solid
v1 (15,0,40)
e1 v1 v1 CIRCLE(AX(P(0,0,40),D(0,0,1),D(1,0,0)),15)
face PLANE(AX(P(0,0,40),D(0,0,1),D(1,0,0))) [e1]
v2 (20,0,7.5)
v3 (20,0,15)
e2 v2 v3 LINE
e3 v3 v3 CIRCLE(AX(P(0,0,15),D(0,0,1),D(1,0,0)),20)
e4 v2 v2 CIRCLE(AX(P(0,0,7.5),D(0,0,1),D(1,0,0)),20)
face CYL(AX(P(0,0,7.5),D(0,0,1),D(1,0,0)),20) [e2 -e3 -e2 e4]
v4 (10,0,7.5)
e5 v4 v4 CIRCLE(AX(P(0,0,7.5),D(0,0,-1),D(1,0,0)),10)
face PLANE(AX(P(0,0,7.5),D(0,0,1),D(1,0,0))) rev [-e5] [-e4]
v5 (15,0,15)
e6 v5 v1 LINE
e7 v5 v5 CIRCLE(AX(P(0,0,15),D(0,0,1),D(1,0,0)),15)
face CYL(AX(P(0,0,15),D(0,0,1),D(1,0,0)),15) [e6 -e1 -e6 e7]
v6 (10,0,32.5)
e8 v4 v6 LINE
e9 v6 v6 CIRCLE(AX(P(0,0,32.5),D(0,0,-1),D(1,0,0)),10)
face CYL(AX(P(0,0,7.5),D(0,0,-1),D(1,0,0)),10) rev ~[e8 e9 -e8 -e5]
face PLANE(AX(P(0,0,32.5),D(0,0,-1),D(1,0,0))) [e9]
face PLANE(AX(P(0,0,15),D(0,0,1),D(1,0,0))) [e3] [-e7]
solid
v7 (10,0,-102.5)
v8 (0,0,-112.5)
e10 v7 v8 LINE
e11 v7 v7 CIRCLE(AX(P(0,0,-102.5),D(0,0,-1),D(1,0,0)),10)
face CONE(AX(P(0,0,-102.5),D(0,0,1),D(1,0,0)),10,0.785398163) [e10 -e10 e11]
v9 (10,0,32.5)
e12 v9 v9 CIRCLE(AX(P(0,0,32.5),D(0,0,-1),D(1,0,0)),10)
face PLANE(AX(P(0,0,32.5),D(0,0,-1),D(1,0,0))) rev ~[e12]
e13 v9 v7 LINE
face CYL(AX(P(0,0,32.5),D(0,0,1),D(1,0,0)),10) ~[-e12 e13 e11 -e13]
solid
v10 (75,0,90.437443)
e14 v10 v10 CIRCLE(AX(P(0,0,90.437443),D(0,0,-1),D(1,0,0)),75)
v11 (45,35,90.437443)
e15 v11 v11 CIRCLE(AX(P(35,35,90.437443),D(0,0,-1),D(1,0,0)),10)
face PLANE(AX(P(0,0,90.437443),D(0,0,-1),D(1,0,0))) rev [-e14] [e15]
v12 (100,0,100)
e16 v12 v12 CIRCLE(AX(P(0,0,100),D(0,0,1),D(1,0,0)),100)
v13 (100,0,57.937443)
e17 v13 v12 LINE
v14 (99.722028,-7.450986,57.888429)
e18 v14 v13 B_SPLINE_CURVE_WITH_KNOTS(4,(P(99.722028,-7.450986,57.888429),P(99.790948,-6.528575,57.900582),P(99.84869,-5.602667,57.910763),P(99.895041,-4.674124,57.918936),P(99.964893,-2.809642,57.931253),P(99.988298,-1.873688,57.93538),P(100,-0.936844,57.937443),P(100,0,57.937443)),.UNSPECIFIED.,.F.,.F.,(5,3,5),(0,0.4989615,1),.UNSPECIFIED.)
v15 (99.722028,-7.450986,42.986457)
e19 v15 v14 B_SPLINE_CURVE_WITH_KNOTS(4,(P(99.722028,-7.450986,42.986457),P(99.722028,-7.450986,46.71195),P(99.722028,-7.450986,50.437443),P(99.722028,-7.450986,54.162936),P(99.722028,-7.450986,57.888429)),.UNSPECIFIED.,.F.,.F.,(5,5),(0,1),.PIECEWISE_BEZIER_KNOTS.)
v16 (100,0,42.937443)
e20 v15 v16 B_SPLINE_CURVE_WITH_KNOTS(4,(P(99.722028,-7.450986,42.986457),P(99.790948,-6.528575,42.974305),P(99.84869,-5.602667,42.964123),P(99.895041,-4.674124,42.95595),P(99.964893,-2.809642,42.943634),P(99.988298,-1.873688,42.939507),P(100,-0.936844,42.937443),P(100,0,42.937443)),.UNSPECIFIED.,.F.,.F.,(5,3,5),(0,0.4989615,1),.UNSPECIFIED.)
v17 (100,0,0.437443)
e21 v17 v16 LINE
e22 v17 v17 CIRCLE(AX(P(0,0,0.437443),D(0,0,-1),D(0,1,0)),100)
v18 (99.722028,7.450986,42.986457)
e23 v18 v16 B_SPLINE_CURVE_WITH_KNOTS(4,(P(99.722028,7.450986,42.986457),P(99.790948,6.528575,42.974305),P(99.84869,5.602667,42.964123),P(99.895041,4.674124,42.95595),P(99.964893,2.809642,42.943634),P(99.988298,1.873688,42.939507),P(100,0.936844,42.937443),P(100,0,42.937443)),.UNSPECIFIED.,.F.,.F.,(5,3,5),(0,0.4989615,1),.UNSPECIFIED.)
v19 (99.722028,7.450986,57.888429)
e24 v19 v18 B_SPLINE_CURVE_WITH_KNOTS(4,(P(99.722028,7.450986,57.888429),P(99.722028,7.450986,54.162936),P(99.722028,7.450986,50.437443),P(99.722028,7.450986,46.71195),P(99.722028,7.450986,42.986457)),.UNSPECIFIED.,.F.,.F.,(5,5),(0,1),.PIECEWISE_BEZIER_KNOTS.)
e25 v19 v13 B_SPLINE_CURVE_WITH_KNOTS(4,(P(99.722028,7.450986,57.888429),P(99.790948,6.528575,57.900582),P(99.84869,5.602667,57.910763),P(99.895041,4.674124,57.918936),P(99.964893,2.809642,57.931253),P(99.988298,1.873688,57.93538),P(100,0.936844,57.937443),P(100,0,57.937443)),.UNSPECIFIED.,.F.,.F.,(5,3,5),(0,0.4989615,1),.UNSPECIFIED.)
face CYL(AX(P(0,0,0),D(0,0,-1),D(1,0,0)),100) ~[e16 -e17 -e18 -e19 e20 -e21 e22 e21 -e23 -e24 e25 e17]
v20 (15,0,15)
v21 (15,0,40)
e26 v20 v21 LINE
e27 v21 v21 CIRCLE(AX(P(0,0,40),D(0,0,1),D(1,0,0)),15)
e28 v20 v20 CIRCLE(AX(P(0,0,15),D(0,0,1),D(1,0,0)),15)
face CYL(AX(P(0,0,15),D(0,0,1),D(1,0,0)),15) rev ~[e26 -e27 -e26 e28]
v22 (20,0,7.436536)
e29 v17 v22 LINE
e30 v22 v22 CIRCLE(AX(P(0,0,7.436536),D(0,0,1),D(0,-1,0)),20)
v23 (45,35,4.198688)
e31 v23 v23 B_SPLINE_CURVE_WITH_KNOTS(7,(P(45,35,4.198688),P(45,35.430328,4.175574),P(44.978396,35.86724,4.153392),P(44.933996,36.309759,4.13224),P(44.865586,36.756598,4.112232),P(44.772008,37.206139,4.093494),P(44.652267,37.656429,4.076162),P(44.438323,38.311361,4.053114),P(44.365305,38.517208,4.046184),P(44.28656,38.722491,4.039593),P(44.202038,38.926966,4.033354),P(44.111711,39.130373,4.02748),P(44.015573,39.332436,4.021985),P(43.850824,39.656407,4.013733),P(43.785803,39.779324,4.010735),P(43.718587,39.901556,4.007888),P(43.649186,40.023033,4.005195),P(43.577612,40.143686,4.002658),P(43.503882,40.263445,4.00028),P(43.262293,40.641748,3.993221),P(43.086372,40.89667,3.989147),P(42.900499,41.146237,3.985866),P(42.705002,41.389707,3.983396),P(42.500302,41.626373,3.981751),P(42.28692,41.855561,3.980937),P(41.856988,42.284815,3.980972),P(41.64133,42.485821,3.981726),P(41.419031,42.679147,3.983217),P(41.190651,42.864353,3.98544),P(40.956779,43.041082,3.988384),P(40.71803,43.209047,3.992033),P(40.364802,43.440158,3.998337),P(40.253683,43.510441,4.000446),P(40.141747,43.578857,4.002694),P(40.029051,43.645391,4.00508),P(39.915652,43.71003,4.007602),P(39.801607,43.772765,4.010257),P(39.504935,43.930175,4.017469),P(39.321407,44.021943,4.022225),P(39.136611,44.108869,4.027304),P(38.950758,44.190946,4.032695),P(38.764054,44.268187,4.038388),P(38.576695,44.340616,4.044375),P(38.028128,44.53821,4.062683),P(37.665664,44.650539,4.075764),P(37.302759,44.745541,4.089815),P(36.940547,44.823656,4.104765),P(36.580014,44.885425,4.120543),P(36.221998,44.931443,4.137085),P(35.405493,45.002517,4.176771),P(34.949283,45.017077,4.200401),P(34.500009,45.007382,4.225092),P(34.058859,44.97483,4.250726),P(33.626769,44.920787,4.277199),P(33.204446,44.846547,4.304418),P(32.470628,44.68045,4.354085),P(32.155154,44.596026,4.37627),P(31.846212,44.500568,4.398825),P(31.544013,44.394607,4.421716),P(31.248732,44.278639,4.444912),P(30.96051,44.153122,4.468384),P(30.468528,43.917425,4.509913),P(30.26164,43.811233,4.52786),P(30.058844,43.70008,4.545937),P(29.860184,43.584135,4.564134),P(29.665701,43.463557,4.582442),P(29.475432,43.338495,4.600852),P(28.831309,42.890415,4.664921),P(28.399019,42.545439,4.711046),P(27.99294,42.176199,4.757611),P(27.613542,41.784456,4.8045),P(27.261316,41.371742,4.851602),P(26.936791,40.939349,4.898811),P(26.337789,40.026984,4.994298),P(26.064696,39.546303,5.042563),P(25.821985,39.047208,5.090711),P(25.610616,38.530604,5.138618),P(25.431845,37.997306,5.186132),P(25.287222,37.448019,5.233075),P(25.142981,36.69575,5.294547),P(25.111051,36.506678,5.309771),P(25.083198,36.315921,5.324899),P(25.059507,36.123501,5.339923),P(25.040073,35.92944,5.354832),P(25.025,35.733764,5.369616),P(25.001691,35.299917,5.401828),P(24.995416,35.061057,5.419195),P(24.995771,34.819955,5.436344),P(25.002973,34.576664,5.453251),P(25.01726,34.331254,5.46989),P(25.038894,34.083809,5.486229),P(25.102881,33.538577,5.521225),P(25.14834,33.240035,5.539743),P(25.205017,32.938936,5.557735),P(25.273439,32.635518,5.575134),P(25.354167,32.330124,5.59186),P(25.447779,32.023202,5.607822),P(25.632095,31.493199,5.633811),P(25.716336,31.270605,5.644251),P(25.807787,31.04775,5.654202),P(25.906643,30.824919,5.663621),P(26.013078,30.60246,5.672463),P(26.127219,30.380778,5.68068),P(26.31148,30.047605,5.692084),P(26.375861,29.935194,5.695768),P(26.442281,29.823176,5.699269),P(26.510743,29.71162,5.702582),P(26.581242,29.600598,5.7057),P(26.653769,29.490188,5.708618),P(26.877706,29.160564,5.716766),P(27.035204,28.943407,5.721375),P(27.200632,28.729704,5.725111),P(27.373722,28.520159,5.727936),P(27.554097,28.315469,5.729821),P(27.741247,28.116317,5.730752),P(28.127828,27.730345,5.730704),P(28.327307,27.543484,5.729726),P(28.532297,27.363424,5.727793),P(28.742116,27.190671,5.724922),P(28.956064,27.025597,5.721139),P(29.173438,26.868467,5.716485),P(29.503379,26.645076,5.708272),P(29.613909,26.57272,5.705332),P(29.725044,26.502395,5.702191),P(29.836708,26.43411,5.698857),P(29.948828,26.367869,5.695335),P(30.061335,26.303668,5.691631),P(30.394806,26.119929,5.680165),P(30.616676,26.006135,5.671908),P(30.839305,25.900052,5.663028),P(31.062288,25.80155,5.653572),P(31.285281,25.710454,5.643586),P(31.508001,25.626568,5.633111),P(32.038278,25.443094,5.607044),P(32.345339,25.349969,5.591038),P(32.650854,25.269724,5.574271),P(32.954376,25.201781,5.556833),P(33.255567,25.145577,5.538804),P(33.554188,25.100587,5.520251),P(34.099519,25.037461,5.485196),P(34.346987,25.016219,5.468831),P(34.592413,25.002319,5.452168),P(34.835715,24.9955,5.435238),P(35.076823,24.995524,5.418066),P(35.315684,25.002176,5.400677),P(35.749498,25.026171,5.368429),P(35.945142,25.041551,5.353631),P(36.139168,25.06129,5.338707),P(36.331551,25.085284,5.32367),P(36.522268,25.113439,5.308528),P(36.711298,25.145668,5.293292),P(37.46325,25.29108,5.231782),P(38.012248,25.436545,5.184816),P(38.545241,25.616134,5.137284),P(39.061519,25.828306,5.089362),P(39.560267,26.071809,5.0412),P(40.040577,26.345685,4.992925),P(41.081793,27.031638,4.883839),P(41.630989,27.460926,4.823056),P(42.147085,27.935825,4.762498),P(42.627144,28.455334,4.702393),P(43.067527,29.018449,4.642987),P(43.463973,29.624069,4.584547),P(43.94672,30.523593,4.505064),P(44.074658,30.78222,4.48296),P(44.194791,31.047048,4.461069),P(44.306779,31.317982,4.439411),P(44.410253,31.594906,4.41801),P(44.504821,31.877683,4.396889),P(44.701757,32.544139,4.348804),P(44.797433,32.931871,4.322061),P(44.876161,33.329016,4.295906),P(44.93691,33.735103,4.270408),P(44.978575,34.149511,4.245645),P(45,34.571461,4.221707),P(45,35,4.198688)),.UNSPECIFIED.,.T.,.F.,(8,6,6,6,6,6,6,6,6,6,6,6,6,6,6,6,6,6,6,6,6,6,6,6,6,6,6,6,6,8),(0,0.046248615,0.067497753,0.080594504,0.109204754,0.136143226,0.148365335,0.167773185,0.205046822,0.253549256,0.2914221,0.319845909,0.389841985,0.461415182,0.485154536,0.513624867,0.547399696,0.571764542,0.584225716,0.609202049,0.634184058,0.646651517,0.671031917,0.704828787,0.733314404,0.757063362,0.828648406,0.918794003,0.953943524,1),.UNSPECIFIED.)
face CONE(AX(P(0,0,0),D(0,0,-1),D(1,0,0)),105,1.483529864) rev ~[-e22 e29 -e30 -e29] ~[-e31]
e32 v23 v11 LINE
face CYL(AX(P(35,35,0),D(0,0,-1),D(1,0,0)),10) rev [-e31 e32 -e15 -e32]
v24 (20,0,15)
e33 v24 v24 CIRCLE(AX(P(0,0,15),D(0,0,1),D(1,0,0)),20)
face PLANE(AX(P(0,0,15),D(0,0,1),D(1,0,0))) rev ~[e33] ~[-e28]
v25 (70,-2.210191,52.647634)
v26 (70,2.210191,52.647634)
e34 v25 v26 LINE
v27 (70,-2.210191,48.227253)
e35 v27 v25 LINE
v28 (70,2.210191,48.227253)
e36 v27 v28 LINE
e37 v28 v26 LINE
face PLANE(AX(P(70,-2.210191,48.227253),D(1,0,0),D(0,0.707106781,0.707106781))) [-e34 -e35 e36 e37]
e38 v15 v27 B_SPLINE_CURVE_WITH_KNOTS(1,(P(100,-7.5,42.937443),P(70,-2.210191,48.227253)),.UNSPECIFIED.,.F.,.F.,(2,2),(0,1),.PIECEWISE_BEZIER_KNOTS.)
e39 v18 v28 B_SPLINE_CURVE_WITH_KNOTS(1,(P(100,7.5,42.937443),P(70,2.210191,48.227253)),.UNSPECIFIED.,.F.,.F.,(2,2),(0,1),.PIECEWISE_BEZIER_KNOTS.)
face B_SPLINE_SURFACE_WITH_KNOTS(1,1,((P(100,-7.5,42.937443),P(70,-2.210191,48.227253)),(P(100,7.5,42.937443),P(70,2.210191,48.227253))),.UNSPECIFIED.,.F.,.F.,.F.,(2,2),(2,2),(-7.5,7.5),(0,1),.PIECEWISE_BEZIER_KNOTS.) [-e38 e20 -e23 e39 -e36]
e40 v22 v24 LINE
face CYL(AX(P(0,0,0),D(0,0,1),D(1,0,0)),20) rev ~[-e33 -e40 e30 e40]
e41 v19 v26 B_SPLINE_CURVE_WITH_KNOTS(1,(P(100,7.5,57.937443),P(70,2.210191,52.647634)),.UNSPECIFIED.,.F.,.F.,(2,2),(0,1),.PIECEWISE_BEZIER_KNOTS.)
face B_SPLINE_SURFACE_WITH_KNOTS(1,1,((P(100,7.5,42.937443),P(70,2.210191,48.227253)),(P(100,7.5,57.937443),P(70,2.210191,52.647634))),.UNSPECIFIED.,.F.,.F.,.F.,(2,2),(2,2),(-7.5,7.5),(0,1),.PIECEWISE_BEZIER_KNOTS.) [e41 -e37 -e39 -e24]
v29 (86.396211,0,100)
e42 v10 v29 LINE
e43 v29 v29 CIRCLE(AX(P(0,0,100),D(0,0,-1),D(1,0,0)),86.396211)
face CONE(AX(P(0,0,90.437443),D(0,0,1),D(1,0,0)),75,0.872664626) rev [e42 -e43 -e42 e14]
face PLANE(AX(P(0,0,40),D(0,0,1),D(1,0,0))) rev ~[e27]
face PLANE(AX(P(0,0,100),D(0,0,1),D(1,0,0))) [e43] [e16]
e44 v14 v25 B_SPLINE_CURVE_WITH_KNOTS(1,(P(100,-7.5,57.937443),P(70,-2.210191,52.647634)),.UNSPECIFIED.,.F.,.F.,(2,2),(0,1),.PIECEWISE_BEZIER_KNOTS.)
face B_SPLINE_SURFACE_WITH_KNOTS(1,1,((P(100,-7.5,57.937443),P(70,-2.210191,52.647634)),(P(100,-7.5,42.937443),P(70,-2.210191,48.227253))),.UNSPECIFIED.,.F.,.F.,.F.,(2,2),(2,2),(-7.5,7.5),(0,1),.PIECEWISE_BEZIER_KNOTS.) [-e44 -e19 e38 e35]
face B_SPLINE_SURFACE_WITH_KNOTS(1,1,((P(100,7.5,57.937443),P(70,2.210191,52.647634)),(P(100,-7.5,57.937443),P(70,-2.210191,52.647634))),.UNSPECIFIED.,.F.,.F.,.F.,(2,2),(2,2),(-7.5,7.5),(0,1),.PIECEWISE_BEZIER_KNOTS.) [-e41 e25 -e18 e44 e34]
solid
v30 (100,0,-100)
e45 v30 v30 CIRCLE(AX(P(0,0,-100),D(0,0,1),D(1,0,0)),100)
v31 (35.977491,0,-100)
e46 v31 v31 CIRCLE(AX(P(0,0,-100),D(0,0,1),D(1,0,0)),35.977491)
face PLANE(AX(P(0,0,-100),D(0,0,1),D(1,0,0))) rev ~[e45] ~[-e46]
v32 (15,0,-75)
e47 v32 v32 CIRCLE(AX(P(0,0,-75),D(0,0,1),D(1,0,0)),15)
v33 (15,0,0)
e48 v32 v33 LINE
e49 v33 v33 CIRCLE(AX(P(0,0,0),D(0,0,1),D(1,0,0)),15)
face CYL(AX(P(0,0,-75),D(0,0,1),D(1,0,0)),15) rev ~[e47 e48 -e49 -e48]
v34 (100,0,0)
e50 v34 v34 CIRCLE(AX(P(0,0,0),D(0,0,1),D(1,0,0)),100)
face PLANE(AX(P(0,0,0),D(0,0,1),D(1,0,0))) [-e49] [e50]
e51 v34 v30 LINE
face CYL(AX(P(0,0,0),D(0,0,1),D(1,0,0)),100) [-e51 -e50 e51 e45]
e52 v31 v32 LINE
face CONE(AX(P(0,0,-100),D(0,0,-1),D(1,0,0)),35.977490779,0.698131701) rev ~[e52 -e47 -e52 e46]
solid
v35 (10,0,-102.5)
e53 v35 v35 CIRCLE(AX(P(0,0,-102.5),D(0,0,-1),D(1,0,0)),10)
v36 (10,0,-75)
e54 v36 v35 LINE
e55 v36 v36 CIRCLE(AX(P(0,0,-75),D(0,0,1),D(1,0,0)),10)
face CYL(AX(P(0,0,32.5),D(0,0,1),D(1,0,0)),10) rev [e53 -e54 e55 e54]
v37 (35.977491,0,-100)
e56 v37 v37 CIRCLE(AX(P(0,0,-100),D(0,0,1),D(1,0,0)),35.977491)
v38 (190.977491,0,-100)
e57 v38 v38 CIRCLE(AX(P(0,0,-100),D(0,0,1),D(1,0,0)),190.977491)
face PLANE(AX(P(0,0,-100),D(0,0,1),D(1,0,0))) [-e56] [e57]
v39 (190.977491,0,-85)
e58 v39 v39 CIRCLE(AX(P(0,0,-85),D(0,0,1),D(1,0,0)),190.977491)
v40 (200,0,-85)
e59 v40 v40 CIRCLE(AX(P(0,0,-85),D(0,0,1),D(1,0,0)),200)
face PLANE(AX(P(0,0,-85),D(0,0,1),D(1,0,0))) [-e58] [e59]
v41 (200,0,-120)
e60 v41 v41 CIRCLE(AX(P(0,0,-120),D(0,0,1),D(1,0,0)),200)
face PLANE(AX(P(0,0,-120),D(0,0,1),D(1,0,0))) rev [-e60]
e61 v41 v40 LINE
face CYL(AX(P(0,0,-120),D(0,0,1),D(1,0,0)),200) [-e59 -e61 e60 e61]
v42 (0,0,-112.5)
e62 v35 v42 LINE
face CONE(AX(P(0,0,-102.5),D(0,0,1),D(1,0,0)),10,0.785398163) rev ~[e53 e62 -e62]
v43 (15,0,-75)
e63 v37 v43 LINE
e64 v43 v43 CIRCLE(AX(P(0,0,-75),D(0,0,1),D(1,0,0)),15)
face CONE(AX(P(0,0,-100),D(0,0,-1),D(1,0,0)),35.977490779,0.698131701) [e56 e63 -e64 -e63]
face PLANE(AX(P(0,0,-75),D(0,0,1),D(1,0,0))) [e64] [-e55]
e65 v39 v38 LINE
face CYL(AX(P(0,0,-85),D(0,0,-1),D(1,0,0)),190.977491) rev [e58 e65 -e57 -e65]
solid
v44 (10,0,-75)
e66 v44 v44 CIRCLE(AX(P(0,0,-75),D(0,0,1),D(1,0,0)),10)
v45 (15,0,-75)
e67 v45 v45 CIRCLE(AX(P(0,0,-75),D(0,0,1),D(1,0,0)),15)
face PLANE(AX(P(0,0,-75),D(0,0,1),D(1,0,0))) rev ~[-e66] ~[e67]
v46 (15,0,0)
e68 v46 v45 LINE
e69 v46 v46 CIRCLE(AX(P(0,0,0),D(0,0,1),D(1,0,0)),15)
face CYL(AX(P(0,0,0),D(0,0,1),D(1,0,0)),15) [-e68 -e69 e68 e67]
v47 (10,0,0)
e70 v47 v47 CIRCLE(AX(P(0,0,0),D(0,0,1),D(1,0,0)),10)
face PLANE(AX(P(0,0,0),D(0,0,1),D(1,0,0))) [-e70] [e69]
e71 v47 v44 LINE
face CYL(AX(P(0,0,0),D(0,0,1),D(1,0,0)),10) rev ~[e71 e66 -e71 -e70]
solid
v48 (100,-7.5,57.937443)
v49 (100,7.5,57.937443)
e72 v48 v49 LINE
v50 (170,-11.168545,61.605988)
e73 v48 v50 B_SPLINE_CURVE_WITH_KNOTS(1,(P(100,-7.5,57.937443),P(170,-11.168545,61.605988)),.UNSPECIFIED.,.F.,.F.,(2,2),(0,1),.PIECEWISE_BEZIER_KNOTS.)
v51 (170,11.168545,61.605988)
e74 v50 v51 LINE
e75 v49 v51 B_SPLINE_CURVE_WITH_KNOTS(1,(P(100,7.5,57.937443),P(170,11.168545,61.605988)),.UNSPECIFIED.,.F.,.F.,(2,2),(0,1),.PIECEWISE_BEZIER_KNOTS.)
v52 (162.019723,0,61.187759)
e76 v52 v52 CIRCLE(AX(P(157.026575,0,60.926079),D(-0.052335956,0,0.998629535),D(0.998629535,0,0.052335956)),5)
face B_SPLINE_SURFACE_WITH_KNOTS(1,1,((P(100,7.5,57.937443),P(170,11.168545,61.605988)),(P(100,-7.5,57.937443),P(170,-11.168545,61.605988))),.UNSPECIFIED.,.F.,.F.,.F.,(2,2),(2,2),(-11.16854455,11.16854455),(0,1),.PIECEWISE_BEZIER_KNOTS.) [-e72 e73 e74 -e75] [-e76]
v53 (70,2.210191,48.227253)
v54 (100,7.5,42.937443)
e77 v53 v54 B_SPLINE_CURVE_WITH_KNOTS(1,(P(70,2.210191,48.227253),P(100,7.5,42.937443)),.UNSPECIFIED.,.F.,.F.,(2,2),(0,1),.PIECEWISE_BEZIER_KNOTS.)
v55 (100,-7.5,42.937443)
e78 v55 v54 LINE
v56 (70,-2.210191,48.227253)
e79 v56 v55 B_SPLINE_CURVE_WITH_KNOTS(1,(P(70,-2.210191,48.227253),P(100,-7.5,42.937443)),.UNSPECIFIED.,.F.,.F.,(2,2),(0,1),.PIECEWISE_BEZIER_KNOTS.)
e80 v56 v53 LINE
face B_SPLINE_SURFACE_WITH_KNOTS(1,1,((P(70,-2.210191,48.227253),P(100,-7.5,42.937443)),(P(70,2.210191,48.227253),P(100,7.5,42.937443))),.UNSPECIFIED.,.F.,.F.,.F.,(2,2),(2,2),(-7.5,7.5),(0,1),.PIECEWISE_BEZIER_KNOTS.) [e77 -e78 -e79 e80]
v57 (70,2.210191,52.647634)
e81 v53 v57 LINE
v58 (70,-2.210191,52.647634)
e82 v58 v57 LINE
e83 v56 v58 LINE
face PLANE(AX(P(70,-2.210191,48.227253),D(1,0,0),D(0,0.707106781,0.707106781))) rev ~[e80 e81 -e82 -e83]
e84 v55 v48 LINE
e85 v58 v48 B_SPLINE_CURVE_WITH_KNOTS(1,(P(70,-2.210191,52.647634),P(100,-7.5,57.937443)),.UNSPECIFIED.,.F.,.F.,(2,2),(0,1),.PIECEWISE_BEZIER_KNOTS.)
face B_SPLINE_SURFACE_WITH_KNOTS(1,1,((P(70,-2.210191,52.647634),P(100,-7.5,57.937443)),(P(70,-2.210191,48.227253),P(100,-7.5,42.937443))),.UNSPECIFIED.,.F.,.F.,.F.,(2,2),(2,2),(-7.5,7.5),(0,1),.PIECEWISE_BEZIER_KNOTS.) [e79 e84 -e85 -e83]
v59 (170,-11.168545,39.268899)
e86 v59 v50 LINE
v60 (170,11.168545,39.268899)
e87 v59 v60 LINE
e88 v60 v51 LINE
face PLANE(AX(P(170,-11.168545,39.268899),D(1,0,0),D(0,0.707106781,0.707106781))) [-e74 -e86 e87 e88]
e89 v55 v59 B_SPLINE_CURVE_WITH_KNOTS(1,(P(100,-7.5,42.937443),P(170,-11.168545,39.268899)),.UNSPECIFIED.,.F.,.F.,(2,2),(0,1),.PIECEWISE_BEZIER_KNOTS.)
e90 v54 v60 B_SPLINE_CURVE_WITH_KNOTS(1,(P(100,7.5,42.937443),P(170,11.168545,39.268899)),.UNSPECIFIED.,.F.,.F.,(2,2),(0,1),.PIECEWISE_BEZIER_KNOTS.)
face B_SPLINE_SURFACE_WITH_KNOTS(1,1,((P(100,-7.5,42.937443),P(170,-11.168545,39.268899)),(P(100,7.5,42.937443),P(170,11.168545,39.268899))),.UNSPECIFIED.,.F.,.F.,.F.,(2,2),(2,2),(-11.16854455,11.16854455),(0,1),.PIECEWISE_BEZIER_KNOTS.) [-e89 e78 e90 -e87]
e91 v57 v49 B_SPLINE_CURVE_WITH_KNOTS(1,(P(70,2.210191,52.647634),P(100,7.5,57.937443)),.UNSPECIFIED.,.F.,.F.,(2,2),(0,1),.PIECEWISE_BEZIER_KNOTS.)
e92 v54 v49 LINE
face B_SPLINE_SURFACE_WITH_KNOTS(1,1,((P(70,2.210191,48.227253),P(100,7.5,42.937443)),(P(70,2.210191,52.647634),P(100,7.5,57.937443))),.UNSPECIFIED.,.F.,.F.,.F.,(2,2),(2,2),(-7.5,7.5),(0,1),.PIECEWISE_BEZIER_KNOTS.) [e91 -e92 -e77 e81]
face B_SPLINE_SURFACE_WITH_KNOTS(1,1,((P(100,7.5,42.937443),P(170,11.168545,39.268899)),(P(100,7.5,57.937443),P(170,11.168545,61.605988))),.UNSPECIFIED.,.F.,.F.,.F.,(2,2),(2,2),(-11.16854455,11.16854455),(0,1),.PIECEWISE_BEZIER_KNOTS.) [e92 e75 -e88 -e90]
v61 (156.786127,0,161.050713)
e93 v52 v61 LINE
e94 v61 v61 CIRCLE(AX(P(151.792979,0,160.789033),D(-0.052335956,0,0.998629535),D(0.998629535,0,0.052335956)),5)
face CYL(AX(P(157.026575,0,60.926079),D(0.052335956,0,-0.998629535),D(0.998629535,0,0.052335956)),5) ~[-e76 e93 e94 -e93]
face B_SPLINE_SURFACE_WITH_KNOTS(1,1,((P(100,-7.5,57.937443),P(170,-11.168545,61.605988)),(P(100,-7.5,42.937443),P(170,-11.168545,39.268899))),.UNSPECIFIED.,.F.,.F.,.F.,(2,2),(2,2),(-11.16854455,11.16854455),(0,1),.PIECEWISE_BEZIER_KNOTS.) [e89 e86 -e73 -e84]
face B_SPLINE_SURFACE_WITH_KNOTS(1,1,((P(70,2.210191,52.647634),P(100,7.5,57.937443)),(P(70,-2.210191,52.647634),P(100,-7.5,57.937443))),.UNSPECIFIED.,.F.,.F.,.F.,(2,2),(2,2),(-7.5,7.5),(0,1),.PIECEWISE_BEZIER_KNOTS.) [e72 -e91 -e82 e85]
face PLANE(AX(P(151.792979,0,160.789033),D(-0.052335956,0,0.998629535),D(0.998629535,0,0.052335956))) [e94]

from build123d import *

# Parameters (mm, degrees)
F0_R       = 100
F0_R_2     = 10
F1_DEPTH   = 100
F6_R       = 100
F7_DEPTH   = 100
F13_W      = 15
F13_H      = 15
F14_DEPTH  = 30
F14_TAPER  = 10
F14_FACE_W = 4.4203811575
F14_FACE_H = 4.4203811575
F15_DEPTH  = 30
F15_TAPER  = -10
F16_DEPTH  = 70
F16_TAPER  = -3
F17_R      = 5
F18_DEPTH  = 100
F21_R      = 10
F22_DEPTH  = 25
F23_R      = 15
F24_DEPTH  = 75
F25_R      = 10
F26_DEPTH  = 75
F27_R      = 10
F28_DEPTH  = 145
F29_SIZE   = 10


with BuildPart() as f1:
    # F0 (on Top) → F1 (new body)
    with BuildSketch(Plane.XY):
        Circle(F0_R)
        with Locations((35, 35)):
            Circle(F0_R_2, mode=Mode.SUBTRACT)
    extrude(amount=F1_DEPTH)

    # F2 (on Front) → F3 (revolve, cut)
    with BuildSketch(Plane.XZ):
        Polygon((15, 40), (0, 40), (0, 0), (20, 0), (20, 15), (15, 15), align=None)
    revolve(axis=Axis((0, 0, 20), (0, 0, 1)), mode=Mode.SUBTRACT)

    # F4 (on Front) → F5 (revolve, cut)
    with BuildSketch(Plane.XZ):
        Polygon((105, 0), (0, 9.1863096702), (0, 0), align=None)
    revolve(axis=Axis((0, 0, 4.5931548351), (0, 0, 1)), mode=Mode.SUBTRACT)

    # F10 (on Front) → F11 (revolve, cut)
    with BuildSketch(Plane.XZ):
        Polygon((0, 100), (0, 90.4374433176), (75, 90.4374433176), (86.3962112806, 100), align=None)
    revolve(axis=Axis((0, 0, 95.2187216588), (0, 0, -1)), mode=Mode.SUBTRACT)

    # F13 (on offset) → F14 (cut)
    with BuildSketch(Plane.YZ.offset(100)):
        with Locations((0, 50.4374433176)):
            Rectangle(F13_W, F13_H)
    extrude(amount=-F14_DEPTH, taper=F14_TAPER, mode=Mode.SUBTRACT)


with BuildPart() as f7:
    # F6 (on Top) → F7 (new body)
    with BuildSketch(Plane.XY):
        Circle(F6_R)
    extrude(amount=-F7_DEPTH)

    # F8 (on Front) → F9 (revolve, cut)
    with BuildSketch(Plane.XZ):
        Polygon((15, 0), (0, 0), (0, -100), (35.9774907794, -100), (15, -75), align=None)
    revolve(axis=Axis((0, 0, -50), (0, 0, 1)), mode=Mode.SUBTRACT)


with BuildPart() as f15:
    # F14_face (on face) → F15 (new body)
    with BuildSketch(Plane(origin=(70, 0, 50.4374433176), x_dir=(0, 1, 0), z_dir=(1, 0, 0))):
        Rectangle(F14_FACE_W, F14_FACE_H)
    extrude(amount=F15_DEPTH, taper=F15_TAPER)

    # F13 (on offset) → F16 (join)
    with BuildSketch(Plane.YZ.offset(100)):
        with Locations((0, 50.4374433176)):
            Rectangle(F13_W, F13_H)
    extrude(amount=F16_DEPTH, taper=F16_TAPER)

    # F17 (on face) → F18 (join)
    with BuildSketch(Plane(origin=(-2.7541507262, 0, 52.552326466), x_dir=(0.9986295348, 0, 0.0523359562), z_dir=(-0.0523359562, 0, 0.9986295348))):
        with Locations((160, 0)):
            Circle(F17_R)
    extrude(amount=F18_DEPTH)


with BuildPart() as f20:
    # F19 (on Front) → F20 (revolve)
    with BuildSketch(Plane.XZ):
        Polygon((15, 40), (0, 40), (0, 7.5), (20, 7.5), (20, 15), (15, 15), align=None)
    revolve(axis=Axis((0, 0, 20), (0, 0, 1)))

    # F21 (on face) → F22 (cut)
    with BuildSketch(Plane(origin=(0, 0, 7.5), x_dir=(1, 0, 0), z_dir=(0, 0, -1))):
        Circle(F21_R)
    extrude(amount=-F22_DEPTH, mode=Mode.SUBTRACT)


with BuildPart() as f24:
    # F23 (on Top) → F24 (new body)
    with BuildSketch(Plane.XY):
        Circle(F23_R)
    extrude(amount=-F24_DEPTH)

    # F25 (on face) → F26 (cut)
    with BuildSketch(Plane.XY):
        Circle(F25_R)
    extrude(amount=-F26_DEPTH, mode=Mode.SUBTRACT)


with BuildPart() as f28:
    # F27 (on face) → F28 (new body)
    with BuildSketch(Plane(origin=(0, 0, 32.5), x_dir=(1, 0, 0), z_dir=(0, 0, -1))):
        Circle(F27_R)
    extrude(amount=F28_DEPTH)

    # F29
    f29_edges = [f28.edges().sort_by_distance(p)[0] for p in [
        (-10, 0, -112.5),
    ]]
    chamfer(f29_edges, length=F29_SIZE)


with BuildPart() as f31:
    # F30 (on Front) → F31 (revolve)
    with BuildSketch(Plane.XZ):
        Polygon((190.9774907794, -85), (190.9774907794, -100), (35.9774907794, -100), (15, -75), (0, -75), (0, -120), (200, -120), (200, -85), align=None)
    revolve(axis=Axis((0, 0, -97.5), (0, 0, 1)))

    # F32: cut F28
    add(f28.part, mode=Mode.SUBTRACT)


solid = Compound([f1.part, f7.part, f15.part, f20.part, f24.part, f28.part, f31.part])
